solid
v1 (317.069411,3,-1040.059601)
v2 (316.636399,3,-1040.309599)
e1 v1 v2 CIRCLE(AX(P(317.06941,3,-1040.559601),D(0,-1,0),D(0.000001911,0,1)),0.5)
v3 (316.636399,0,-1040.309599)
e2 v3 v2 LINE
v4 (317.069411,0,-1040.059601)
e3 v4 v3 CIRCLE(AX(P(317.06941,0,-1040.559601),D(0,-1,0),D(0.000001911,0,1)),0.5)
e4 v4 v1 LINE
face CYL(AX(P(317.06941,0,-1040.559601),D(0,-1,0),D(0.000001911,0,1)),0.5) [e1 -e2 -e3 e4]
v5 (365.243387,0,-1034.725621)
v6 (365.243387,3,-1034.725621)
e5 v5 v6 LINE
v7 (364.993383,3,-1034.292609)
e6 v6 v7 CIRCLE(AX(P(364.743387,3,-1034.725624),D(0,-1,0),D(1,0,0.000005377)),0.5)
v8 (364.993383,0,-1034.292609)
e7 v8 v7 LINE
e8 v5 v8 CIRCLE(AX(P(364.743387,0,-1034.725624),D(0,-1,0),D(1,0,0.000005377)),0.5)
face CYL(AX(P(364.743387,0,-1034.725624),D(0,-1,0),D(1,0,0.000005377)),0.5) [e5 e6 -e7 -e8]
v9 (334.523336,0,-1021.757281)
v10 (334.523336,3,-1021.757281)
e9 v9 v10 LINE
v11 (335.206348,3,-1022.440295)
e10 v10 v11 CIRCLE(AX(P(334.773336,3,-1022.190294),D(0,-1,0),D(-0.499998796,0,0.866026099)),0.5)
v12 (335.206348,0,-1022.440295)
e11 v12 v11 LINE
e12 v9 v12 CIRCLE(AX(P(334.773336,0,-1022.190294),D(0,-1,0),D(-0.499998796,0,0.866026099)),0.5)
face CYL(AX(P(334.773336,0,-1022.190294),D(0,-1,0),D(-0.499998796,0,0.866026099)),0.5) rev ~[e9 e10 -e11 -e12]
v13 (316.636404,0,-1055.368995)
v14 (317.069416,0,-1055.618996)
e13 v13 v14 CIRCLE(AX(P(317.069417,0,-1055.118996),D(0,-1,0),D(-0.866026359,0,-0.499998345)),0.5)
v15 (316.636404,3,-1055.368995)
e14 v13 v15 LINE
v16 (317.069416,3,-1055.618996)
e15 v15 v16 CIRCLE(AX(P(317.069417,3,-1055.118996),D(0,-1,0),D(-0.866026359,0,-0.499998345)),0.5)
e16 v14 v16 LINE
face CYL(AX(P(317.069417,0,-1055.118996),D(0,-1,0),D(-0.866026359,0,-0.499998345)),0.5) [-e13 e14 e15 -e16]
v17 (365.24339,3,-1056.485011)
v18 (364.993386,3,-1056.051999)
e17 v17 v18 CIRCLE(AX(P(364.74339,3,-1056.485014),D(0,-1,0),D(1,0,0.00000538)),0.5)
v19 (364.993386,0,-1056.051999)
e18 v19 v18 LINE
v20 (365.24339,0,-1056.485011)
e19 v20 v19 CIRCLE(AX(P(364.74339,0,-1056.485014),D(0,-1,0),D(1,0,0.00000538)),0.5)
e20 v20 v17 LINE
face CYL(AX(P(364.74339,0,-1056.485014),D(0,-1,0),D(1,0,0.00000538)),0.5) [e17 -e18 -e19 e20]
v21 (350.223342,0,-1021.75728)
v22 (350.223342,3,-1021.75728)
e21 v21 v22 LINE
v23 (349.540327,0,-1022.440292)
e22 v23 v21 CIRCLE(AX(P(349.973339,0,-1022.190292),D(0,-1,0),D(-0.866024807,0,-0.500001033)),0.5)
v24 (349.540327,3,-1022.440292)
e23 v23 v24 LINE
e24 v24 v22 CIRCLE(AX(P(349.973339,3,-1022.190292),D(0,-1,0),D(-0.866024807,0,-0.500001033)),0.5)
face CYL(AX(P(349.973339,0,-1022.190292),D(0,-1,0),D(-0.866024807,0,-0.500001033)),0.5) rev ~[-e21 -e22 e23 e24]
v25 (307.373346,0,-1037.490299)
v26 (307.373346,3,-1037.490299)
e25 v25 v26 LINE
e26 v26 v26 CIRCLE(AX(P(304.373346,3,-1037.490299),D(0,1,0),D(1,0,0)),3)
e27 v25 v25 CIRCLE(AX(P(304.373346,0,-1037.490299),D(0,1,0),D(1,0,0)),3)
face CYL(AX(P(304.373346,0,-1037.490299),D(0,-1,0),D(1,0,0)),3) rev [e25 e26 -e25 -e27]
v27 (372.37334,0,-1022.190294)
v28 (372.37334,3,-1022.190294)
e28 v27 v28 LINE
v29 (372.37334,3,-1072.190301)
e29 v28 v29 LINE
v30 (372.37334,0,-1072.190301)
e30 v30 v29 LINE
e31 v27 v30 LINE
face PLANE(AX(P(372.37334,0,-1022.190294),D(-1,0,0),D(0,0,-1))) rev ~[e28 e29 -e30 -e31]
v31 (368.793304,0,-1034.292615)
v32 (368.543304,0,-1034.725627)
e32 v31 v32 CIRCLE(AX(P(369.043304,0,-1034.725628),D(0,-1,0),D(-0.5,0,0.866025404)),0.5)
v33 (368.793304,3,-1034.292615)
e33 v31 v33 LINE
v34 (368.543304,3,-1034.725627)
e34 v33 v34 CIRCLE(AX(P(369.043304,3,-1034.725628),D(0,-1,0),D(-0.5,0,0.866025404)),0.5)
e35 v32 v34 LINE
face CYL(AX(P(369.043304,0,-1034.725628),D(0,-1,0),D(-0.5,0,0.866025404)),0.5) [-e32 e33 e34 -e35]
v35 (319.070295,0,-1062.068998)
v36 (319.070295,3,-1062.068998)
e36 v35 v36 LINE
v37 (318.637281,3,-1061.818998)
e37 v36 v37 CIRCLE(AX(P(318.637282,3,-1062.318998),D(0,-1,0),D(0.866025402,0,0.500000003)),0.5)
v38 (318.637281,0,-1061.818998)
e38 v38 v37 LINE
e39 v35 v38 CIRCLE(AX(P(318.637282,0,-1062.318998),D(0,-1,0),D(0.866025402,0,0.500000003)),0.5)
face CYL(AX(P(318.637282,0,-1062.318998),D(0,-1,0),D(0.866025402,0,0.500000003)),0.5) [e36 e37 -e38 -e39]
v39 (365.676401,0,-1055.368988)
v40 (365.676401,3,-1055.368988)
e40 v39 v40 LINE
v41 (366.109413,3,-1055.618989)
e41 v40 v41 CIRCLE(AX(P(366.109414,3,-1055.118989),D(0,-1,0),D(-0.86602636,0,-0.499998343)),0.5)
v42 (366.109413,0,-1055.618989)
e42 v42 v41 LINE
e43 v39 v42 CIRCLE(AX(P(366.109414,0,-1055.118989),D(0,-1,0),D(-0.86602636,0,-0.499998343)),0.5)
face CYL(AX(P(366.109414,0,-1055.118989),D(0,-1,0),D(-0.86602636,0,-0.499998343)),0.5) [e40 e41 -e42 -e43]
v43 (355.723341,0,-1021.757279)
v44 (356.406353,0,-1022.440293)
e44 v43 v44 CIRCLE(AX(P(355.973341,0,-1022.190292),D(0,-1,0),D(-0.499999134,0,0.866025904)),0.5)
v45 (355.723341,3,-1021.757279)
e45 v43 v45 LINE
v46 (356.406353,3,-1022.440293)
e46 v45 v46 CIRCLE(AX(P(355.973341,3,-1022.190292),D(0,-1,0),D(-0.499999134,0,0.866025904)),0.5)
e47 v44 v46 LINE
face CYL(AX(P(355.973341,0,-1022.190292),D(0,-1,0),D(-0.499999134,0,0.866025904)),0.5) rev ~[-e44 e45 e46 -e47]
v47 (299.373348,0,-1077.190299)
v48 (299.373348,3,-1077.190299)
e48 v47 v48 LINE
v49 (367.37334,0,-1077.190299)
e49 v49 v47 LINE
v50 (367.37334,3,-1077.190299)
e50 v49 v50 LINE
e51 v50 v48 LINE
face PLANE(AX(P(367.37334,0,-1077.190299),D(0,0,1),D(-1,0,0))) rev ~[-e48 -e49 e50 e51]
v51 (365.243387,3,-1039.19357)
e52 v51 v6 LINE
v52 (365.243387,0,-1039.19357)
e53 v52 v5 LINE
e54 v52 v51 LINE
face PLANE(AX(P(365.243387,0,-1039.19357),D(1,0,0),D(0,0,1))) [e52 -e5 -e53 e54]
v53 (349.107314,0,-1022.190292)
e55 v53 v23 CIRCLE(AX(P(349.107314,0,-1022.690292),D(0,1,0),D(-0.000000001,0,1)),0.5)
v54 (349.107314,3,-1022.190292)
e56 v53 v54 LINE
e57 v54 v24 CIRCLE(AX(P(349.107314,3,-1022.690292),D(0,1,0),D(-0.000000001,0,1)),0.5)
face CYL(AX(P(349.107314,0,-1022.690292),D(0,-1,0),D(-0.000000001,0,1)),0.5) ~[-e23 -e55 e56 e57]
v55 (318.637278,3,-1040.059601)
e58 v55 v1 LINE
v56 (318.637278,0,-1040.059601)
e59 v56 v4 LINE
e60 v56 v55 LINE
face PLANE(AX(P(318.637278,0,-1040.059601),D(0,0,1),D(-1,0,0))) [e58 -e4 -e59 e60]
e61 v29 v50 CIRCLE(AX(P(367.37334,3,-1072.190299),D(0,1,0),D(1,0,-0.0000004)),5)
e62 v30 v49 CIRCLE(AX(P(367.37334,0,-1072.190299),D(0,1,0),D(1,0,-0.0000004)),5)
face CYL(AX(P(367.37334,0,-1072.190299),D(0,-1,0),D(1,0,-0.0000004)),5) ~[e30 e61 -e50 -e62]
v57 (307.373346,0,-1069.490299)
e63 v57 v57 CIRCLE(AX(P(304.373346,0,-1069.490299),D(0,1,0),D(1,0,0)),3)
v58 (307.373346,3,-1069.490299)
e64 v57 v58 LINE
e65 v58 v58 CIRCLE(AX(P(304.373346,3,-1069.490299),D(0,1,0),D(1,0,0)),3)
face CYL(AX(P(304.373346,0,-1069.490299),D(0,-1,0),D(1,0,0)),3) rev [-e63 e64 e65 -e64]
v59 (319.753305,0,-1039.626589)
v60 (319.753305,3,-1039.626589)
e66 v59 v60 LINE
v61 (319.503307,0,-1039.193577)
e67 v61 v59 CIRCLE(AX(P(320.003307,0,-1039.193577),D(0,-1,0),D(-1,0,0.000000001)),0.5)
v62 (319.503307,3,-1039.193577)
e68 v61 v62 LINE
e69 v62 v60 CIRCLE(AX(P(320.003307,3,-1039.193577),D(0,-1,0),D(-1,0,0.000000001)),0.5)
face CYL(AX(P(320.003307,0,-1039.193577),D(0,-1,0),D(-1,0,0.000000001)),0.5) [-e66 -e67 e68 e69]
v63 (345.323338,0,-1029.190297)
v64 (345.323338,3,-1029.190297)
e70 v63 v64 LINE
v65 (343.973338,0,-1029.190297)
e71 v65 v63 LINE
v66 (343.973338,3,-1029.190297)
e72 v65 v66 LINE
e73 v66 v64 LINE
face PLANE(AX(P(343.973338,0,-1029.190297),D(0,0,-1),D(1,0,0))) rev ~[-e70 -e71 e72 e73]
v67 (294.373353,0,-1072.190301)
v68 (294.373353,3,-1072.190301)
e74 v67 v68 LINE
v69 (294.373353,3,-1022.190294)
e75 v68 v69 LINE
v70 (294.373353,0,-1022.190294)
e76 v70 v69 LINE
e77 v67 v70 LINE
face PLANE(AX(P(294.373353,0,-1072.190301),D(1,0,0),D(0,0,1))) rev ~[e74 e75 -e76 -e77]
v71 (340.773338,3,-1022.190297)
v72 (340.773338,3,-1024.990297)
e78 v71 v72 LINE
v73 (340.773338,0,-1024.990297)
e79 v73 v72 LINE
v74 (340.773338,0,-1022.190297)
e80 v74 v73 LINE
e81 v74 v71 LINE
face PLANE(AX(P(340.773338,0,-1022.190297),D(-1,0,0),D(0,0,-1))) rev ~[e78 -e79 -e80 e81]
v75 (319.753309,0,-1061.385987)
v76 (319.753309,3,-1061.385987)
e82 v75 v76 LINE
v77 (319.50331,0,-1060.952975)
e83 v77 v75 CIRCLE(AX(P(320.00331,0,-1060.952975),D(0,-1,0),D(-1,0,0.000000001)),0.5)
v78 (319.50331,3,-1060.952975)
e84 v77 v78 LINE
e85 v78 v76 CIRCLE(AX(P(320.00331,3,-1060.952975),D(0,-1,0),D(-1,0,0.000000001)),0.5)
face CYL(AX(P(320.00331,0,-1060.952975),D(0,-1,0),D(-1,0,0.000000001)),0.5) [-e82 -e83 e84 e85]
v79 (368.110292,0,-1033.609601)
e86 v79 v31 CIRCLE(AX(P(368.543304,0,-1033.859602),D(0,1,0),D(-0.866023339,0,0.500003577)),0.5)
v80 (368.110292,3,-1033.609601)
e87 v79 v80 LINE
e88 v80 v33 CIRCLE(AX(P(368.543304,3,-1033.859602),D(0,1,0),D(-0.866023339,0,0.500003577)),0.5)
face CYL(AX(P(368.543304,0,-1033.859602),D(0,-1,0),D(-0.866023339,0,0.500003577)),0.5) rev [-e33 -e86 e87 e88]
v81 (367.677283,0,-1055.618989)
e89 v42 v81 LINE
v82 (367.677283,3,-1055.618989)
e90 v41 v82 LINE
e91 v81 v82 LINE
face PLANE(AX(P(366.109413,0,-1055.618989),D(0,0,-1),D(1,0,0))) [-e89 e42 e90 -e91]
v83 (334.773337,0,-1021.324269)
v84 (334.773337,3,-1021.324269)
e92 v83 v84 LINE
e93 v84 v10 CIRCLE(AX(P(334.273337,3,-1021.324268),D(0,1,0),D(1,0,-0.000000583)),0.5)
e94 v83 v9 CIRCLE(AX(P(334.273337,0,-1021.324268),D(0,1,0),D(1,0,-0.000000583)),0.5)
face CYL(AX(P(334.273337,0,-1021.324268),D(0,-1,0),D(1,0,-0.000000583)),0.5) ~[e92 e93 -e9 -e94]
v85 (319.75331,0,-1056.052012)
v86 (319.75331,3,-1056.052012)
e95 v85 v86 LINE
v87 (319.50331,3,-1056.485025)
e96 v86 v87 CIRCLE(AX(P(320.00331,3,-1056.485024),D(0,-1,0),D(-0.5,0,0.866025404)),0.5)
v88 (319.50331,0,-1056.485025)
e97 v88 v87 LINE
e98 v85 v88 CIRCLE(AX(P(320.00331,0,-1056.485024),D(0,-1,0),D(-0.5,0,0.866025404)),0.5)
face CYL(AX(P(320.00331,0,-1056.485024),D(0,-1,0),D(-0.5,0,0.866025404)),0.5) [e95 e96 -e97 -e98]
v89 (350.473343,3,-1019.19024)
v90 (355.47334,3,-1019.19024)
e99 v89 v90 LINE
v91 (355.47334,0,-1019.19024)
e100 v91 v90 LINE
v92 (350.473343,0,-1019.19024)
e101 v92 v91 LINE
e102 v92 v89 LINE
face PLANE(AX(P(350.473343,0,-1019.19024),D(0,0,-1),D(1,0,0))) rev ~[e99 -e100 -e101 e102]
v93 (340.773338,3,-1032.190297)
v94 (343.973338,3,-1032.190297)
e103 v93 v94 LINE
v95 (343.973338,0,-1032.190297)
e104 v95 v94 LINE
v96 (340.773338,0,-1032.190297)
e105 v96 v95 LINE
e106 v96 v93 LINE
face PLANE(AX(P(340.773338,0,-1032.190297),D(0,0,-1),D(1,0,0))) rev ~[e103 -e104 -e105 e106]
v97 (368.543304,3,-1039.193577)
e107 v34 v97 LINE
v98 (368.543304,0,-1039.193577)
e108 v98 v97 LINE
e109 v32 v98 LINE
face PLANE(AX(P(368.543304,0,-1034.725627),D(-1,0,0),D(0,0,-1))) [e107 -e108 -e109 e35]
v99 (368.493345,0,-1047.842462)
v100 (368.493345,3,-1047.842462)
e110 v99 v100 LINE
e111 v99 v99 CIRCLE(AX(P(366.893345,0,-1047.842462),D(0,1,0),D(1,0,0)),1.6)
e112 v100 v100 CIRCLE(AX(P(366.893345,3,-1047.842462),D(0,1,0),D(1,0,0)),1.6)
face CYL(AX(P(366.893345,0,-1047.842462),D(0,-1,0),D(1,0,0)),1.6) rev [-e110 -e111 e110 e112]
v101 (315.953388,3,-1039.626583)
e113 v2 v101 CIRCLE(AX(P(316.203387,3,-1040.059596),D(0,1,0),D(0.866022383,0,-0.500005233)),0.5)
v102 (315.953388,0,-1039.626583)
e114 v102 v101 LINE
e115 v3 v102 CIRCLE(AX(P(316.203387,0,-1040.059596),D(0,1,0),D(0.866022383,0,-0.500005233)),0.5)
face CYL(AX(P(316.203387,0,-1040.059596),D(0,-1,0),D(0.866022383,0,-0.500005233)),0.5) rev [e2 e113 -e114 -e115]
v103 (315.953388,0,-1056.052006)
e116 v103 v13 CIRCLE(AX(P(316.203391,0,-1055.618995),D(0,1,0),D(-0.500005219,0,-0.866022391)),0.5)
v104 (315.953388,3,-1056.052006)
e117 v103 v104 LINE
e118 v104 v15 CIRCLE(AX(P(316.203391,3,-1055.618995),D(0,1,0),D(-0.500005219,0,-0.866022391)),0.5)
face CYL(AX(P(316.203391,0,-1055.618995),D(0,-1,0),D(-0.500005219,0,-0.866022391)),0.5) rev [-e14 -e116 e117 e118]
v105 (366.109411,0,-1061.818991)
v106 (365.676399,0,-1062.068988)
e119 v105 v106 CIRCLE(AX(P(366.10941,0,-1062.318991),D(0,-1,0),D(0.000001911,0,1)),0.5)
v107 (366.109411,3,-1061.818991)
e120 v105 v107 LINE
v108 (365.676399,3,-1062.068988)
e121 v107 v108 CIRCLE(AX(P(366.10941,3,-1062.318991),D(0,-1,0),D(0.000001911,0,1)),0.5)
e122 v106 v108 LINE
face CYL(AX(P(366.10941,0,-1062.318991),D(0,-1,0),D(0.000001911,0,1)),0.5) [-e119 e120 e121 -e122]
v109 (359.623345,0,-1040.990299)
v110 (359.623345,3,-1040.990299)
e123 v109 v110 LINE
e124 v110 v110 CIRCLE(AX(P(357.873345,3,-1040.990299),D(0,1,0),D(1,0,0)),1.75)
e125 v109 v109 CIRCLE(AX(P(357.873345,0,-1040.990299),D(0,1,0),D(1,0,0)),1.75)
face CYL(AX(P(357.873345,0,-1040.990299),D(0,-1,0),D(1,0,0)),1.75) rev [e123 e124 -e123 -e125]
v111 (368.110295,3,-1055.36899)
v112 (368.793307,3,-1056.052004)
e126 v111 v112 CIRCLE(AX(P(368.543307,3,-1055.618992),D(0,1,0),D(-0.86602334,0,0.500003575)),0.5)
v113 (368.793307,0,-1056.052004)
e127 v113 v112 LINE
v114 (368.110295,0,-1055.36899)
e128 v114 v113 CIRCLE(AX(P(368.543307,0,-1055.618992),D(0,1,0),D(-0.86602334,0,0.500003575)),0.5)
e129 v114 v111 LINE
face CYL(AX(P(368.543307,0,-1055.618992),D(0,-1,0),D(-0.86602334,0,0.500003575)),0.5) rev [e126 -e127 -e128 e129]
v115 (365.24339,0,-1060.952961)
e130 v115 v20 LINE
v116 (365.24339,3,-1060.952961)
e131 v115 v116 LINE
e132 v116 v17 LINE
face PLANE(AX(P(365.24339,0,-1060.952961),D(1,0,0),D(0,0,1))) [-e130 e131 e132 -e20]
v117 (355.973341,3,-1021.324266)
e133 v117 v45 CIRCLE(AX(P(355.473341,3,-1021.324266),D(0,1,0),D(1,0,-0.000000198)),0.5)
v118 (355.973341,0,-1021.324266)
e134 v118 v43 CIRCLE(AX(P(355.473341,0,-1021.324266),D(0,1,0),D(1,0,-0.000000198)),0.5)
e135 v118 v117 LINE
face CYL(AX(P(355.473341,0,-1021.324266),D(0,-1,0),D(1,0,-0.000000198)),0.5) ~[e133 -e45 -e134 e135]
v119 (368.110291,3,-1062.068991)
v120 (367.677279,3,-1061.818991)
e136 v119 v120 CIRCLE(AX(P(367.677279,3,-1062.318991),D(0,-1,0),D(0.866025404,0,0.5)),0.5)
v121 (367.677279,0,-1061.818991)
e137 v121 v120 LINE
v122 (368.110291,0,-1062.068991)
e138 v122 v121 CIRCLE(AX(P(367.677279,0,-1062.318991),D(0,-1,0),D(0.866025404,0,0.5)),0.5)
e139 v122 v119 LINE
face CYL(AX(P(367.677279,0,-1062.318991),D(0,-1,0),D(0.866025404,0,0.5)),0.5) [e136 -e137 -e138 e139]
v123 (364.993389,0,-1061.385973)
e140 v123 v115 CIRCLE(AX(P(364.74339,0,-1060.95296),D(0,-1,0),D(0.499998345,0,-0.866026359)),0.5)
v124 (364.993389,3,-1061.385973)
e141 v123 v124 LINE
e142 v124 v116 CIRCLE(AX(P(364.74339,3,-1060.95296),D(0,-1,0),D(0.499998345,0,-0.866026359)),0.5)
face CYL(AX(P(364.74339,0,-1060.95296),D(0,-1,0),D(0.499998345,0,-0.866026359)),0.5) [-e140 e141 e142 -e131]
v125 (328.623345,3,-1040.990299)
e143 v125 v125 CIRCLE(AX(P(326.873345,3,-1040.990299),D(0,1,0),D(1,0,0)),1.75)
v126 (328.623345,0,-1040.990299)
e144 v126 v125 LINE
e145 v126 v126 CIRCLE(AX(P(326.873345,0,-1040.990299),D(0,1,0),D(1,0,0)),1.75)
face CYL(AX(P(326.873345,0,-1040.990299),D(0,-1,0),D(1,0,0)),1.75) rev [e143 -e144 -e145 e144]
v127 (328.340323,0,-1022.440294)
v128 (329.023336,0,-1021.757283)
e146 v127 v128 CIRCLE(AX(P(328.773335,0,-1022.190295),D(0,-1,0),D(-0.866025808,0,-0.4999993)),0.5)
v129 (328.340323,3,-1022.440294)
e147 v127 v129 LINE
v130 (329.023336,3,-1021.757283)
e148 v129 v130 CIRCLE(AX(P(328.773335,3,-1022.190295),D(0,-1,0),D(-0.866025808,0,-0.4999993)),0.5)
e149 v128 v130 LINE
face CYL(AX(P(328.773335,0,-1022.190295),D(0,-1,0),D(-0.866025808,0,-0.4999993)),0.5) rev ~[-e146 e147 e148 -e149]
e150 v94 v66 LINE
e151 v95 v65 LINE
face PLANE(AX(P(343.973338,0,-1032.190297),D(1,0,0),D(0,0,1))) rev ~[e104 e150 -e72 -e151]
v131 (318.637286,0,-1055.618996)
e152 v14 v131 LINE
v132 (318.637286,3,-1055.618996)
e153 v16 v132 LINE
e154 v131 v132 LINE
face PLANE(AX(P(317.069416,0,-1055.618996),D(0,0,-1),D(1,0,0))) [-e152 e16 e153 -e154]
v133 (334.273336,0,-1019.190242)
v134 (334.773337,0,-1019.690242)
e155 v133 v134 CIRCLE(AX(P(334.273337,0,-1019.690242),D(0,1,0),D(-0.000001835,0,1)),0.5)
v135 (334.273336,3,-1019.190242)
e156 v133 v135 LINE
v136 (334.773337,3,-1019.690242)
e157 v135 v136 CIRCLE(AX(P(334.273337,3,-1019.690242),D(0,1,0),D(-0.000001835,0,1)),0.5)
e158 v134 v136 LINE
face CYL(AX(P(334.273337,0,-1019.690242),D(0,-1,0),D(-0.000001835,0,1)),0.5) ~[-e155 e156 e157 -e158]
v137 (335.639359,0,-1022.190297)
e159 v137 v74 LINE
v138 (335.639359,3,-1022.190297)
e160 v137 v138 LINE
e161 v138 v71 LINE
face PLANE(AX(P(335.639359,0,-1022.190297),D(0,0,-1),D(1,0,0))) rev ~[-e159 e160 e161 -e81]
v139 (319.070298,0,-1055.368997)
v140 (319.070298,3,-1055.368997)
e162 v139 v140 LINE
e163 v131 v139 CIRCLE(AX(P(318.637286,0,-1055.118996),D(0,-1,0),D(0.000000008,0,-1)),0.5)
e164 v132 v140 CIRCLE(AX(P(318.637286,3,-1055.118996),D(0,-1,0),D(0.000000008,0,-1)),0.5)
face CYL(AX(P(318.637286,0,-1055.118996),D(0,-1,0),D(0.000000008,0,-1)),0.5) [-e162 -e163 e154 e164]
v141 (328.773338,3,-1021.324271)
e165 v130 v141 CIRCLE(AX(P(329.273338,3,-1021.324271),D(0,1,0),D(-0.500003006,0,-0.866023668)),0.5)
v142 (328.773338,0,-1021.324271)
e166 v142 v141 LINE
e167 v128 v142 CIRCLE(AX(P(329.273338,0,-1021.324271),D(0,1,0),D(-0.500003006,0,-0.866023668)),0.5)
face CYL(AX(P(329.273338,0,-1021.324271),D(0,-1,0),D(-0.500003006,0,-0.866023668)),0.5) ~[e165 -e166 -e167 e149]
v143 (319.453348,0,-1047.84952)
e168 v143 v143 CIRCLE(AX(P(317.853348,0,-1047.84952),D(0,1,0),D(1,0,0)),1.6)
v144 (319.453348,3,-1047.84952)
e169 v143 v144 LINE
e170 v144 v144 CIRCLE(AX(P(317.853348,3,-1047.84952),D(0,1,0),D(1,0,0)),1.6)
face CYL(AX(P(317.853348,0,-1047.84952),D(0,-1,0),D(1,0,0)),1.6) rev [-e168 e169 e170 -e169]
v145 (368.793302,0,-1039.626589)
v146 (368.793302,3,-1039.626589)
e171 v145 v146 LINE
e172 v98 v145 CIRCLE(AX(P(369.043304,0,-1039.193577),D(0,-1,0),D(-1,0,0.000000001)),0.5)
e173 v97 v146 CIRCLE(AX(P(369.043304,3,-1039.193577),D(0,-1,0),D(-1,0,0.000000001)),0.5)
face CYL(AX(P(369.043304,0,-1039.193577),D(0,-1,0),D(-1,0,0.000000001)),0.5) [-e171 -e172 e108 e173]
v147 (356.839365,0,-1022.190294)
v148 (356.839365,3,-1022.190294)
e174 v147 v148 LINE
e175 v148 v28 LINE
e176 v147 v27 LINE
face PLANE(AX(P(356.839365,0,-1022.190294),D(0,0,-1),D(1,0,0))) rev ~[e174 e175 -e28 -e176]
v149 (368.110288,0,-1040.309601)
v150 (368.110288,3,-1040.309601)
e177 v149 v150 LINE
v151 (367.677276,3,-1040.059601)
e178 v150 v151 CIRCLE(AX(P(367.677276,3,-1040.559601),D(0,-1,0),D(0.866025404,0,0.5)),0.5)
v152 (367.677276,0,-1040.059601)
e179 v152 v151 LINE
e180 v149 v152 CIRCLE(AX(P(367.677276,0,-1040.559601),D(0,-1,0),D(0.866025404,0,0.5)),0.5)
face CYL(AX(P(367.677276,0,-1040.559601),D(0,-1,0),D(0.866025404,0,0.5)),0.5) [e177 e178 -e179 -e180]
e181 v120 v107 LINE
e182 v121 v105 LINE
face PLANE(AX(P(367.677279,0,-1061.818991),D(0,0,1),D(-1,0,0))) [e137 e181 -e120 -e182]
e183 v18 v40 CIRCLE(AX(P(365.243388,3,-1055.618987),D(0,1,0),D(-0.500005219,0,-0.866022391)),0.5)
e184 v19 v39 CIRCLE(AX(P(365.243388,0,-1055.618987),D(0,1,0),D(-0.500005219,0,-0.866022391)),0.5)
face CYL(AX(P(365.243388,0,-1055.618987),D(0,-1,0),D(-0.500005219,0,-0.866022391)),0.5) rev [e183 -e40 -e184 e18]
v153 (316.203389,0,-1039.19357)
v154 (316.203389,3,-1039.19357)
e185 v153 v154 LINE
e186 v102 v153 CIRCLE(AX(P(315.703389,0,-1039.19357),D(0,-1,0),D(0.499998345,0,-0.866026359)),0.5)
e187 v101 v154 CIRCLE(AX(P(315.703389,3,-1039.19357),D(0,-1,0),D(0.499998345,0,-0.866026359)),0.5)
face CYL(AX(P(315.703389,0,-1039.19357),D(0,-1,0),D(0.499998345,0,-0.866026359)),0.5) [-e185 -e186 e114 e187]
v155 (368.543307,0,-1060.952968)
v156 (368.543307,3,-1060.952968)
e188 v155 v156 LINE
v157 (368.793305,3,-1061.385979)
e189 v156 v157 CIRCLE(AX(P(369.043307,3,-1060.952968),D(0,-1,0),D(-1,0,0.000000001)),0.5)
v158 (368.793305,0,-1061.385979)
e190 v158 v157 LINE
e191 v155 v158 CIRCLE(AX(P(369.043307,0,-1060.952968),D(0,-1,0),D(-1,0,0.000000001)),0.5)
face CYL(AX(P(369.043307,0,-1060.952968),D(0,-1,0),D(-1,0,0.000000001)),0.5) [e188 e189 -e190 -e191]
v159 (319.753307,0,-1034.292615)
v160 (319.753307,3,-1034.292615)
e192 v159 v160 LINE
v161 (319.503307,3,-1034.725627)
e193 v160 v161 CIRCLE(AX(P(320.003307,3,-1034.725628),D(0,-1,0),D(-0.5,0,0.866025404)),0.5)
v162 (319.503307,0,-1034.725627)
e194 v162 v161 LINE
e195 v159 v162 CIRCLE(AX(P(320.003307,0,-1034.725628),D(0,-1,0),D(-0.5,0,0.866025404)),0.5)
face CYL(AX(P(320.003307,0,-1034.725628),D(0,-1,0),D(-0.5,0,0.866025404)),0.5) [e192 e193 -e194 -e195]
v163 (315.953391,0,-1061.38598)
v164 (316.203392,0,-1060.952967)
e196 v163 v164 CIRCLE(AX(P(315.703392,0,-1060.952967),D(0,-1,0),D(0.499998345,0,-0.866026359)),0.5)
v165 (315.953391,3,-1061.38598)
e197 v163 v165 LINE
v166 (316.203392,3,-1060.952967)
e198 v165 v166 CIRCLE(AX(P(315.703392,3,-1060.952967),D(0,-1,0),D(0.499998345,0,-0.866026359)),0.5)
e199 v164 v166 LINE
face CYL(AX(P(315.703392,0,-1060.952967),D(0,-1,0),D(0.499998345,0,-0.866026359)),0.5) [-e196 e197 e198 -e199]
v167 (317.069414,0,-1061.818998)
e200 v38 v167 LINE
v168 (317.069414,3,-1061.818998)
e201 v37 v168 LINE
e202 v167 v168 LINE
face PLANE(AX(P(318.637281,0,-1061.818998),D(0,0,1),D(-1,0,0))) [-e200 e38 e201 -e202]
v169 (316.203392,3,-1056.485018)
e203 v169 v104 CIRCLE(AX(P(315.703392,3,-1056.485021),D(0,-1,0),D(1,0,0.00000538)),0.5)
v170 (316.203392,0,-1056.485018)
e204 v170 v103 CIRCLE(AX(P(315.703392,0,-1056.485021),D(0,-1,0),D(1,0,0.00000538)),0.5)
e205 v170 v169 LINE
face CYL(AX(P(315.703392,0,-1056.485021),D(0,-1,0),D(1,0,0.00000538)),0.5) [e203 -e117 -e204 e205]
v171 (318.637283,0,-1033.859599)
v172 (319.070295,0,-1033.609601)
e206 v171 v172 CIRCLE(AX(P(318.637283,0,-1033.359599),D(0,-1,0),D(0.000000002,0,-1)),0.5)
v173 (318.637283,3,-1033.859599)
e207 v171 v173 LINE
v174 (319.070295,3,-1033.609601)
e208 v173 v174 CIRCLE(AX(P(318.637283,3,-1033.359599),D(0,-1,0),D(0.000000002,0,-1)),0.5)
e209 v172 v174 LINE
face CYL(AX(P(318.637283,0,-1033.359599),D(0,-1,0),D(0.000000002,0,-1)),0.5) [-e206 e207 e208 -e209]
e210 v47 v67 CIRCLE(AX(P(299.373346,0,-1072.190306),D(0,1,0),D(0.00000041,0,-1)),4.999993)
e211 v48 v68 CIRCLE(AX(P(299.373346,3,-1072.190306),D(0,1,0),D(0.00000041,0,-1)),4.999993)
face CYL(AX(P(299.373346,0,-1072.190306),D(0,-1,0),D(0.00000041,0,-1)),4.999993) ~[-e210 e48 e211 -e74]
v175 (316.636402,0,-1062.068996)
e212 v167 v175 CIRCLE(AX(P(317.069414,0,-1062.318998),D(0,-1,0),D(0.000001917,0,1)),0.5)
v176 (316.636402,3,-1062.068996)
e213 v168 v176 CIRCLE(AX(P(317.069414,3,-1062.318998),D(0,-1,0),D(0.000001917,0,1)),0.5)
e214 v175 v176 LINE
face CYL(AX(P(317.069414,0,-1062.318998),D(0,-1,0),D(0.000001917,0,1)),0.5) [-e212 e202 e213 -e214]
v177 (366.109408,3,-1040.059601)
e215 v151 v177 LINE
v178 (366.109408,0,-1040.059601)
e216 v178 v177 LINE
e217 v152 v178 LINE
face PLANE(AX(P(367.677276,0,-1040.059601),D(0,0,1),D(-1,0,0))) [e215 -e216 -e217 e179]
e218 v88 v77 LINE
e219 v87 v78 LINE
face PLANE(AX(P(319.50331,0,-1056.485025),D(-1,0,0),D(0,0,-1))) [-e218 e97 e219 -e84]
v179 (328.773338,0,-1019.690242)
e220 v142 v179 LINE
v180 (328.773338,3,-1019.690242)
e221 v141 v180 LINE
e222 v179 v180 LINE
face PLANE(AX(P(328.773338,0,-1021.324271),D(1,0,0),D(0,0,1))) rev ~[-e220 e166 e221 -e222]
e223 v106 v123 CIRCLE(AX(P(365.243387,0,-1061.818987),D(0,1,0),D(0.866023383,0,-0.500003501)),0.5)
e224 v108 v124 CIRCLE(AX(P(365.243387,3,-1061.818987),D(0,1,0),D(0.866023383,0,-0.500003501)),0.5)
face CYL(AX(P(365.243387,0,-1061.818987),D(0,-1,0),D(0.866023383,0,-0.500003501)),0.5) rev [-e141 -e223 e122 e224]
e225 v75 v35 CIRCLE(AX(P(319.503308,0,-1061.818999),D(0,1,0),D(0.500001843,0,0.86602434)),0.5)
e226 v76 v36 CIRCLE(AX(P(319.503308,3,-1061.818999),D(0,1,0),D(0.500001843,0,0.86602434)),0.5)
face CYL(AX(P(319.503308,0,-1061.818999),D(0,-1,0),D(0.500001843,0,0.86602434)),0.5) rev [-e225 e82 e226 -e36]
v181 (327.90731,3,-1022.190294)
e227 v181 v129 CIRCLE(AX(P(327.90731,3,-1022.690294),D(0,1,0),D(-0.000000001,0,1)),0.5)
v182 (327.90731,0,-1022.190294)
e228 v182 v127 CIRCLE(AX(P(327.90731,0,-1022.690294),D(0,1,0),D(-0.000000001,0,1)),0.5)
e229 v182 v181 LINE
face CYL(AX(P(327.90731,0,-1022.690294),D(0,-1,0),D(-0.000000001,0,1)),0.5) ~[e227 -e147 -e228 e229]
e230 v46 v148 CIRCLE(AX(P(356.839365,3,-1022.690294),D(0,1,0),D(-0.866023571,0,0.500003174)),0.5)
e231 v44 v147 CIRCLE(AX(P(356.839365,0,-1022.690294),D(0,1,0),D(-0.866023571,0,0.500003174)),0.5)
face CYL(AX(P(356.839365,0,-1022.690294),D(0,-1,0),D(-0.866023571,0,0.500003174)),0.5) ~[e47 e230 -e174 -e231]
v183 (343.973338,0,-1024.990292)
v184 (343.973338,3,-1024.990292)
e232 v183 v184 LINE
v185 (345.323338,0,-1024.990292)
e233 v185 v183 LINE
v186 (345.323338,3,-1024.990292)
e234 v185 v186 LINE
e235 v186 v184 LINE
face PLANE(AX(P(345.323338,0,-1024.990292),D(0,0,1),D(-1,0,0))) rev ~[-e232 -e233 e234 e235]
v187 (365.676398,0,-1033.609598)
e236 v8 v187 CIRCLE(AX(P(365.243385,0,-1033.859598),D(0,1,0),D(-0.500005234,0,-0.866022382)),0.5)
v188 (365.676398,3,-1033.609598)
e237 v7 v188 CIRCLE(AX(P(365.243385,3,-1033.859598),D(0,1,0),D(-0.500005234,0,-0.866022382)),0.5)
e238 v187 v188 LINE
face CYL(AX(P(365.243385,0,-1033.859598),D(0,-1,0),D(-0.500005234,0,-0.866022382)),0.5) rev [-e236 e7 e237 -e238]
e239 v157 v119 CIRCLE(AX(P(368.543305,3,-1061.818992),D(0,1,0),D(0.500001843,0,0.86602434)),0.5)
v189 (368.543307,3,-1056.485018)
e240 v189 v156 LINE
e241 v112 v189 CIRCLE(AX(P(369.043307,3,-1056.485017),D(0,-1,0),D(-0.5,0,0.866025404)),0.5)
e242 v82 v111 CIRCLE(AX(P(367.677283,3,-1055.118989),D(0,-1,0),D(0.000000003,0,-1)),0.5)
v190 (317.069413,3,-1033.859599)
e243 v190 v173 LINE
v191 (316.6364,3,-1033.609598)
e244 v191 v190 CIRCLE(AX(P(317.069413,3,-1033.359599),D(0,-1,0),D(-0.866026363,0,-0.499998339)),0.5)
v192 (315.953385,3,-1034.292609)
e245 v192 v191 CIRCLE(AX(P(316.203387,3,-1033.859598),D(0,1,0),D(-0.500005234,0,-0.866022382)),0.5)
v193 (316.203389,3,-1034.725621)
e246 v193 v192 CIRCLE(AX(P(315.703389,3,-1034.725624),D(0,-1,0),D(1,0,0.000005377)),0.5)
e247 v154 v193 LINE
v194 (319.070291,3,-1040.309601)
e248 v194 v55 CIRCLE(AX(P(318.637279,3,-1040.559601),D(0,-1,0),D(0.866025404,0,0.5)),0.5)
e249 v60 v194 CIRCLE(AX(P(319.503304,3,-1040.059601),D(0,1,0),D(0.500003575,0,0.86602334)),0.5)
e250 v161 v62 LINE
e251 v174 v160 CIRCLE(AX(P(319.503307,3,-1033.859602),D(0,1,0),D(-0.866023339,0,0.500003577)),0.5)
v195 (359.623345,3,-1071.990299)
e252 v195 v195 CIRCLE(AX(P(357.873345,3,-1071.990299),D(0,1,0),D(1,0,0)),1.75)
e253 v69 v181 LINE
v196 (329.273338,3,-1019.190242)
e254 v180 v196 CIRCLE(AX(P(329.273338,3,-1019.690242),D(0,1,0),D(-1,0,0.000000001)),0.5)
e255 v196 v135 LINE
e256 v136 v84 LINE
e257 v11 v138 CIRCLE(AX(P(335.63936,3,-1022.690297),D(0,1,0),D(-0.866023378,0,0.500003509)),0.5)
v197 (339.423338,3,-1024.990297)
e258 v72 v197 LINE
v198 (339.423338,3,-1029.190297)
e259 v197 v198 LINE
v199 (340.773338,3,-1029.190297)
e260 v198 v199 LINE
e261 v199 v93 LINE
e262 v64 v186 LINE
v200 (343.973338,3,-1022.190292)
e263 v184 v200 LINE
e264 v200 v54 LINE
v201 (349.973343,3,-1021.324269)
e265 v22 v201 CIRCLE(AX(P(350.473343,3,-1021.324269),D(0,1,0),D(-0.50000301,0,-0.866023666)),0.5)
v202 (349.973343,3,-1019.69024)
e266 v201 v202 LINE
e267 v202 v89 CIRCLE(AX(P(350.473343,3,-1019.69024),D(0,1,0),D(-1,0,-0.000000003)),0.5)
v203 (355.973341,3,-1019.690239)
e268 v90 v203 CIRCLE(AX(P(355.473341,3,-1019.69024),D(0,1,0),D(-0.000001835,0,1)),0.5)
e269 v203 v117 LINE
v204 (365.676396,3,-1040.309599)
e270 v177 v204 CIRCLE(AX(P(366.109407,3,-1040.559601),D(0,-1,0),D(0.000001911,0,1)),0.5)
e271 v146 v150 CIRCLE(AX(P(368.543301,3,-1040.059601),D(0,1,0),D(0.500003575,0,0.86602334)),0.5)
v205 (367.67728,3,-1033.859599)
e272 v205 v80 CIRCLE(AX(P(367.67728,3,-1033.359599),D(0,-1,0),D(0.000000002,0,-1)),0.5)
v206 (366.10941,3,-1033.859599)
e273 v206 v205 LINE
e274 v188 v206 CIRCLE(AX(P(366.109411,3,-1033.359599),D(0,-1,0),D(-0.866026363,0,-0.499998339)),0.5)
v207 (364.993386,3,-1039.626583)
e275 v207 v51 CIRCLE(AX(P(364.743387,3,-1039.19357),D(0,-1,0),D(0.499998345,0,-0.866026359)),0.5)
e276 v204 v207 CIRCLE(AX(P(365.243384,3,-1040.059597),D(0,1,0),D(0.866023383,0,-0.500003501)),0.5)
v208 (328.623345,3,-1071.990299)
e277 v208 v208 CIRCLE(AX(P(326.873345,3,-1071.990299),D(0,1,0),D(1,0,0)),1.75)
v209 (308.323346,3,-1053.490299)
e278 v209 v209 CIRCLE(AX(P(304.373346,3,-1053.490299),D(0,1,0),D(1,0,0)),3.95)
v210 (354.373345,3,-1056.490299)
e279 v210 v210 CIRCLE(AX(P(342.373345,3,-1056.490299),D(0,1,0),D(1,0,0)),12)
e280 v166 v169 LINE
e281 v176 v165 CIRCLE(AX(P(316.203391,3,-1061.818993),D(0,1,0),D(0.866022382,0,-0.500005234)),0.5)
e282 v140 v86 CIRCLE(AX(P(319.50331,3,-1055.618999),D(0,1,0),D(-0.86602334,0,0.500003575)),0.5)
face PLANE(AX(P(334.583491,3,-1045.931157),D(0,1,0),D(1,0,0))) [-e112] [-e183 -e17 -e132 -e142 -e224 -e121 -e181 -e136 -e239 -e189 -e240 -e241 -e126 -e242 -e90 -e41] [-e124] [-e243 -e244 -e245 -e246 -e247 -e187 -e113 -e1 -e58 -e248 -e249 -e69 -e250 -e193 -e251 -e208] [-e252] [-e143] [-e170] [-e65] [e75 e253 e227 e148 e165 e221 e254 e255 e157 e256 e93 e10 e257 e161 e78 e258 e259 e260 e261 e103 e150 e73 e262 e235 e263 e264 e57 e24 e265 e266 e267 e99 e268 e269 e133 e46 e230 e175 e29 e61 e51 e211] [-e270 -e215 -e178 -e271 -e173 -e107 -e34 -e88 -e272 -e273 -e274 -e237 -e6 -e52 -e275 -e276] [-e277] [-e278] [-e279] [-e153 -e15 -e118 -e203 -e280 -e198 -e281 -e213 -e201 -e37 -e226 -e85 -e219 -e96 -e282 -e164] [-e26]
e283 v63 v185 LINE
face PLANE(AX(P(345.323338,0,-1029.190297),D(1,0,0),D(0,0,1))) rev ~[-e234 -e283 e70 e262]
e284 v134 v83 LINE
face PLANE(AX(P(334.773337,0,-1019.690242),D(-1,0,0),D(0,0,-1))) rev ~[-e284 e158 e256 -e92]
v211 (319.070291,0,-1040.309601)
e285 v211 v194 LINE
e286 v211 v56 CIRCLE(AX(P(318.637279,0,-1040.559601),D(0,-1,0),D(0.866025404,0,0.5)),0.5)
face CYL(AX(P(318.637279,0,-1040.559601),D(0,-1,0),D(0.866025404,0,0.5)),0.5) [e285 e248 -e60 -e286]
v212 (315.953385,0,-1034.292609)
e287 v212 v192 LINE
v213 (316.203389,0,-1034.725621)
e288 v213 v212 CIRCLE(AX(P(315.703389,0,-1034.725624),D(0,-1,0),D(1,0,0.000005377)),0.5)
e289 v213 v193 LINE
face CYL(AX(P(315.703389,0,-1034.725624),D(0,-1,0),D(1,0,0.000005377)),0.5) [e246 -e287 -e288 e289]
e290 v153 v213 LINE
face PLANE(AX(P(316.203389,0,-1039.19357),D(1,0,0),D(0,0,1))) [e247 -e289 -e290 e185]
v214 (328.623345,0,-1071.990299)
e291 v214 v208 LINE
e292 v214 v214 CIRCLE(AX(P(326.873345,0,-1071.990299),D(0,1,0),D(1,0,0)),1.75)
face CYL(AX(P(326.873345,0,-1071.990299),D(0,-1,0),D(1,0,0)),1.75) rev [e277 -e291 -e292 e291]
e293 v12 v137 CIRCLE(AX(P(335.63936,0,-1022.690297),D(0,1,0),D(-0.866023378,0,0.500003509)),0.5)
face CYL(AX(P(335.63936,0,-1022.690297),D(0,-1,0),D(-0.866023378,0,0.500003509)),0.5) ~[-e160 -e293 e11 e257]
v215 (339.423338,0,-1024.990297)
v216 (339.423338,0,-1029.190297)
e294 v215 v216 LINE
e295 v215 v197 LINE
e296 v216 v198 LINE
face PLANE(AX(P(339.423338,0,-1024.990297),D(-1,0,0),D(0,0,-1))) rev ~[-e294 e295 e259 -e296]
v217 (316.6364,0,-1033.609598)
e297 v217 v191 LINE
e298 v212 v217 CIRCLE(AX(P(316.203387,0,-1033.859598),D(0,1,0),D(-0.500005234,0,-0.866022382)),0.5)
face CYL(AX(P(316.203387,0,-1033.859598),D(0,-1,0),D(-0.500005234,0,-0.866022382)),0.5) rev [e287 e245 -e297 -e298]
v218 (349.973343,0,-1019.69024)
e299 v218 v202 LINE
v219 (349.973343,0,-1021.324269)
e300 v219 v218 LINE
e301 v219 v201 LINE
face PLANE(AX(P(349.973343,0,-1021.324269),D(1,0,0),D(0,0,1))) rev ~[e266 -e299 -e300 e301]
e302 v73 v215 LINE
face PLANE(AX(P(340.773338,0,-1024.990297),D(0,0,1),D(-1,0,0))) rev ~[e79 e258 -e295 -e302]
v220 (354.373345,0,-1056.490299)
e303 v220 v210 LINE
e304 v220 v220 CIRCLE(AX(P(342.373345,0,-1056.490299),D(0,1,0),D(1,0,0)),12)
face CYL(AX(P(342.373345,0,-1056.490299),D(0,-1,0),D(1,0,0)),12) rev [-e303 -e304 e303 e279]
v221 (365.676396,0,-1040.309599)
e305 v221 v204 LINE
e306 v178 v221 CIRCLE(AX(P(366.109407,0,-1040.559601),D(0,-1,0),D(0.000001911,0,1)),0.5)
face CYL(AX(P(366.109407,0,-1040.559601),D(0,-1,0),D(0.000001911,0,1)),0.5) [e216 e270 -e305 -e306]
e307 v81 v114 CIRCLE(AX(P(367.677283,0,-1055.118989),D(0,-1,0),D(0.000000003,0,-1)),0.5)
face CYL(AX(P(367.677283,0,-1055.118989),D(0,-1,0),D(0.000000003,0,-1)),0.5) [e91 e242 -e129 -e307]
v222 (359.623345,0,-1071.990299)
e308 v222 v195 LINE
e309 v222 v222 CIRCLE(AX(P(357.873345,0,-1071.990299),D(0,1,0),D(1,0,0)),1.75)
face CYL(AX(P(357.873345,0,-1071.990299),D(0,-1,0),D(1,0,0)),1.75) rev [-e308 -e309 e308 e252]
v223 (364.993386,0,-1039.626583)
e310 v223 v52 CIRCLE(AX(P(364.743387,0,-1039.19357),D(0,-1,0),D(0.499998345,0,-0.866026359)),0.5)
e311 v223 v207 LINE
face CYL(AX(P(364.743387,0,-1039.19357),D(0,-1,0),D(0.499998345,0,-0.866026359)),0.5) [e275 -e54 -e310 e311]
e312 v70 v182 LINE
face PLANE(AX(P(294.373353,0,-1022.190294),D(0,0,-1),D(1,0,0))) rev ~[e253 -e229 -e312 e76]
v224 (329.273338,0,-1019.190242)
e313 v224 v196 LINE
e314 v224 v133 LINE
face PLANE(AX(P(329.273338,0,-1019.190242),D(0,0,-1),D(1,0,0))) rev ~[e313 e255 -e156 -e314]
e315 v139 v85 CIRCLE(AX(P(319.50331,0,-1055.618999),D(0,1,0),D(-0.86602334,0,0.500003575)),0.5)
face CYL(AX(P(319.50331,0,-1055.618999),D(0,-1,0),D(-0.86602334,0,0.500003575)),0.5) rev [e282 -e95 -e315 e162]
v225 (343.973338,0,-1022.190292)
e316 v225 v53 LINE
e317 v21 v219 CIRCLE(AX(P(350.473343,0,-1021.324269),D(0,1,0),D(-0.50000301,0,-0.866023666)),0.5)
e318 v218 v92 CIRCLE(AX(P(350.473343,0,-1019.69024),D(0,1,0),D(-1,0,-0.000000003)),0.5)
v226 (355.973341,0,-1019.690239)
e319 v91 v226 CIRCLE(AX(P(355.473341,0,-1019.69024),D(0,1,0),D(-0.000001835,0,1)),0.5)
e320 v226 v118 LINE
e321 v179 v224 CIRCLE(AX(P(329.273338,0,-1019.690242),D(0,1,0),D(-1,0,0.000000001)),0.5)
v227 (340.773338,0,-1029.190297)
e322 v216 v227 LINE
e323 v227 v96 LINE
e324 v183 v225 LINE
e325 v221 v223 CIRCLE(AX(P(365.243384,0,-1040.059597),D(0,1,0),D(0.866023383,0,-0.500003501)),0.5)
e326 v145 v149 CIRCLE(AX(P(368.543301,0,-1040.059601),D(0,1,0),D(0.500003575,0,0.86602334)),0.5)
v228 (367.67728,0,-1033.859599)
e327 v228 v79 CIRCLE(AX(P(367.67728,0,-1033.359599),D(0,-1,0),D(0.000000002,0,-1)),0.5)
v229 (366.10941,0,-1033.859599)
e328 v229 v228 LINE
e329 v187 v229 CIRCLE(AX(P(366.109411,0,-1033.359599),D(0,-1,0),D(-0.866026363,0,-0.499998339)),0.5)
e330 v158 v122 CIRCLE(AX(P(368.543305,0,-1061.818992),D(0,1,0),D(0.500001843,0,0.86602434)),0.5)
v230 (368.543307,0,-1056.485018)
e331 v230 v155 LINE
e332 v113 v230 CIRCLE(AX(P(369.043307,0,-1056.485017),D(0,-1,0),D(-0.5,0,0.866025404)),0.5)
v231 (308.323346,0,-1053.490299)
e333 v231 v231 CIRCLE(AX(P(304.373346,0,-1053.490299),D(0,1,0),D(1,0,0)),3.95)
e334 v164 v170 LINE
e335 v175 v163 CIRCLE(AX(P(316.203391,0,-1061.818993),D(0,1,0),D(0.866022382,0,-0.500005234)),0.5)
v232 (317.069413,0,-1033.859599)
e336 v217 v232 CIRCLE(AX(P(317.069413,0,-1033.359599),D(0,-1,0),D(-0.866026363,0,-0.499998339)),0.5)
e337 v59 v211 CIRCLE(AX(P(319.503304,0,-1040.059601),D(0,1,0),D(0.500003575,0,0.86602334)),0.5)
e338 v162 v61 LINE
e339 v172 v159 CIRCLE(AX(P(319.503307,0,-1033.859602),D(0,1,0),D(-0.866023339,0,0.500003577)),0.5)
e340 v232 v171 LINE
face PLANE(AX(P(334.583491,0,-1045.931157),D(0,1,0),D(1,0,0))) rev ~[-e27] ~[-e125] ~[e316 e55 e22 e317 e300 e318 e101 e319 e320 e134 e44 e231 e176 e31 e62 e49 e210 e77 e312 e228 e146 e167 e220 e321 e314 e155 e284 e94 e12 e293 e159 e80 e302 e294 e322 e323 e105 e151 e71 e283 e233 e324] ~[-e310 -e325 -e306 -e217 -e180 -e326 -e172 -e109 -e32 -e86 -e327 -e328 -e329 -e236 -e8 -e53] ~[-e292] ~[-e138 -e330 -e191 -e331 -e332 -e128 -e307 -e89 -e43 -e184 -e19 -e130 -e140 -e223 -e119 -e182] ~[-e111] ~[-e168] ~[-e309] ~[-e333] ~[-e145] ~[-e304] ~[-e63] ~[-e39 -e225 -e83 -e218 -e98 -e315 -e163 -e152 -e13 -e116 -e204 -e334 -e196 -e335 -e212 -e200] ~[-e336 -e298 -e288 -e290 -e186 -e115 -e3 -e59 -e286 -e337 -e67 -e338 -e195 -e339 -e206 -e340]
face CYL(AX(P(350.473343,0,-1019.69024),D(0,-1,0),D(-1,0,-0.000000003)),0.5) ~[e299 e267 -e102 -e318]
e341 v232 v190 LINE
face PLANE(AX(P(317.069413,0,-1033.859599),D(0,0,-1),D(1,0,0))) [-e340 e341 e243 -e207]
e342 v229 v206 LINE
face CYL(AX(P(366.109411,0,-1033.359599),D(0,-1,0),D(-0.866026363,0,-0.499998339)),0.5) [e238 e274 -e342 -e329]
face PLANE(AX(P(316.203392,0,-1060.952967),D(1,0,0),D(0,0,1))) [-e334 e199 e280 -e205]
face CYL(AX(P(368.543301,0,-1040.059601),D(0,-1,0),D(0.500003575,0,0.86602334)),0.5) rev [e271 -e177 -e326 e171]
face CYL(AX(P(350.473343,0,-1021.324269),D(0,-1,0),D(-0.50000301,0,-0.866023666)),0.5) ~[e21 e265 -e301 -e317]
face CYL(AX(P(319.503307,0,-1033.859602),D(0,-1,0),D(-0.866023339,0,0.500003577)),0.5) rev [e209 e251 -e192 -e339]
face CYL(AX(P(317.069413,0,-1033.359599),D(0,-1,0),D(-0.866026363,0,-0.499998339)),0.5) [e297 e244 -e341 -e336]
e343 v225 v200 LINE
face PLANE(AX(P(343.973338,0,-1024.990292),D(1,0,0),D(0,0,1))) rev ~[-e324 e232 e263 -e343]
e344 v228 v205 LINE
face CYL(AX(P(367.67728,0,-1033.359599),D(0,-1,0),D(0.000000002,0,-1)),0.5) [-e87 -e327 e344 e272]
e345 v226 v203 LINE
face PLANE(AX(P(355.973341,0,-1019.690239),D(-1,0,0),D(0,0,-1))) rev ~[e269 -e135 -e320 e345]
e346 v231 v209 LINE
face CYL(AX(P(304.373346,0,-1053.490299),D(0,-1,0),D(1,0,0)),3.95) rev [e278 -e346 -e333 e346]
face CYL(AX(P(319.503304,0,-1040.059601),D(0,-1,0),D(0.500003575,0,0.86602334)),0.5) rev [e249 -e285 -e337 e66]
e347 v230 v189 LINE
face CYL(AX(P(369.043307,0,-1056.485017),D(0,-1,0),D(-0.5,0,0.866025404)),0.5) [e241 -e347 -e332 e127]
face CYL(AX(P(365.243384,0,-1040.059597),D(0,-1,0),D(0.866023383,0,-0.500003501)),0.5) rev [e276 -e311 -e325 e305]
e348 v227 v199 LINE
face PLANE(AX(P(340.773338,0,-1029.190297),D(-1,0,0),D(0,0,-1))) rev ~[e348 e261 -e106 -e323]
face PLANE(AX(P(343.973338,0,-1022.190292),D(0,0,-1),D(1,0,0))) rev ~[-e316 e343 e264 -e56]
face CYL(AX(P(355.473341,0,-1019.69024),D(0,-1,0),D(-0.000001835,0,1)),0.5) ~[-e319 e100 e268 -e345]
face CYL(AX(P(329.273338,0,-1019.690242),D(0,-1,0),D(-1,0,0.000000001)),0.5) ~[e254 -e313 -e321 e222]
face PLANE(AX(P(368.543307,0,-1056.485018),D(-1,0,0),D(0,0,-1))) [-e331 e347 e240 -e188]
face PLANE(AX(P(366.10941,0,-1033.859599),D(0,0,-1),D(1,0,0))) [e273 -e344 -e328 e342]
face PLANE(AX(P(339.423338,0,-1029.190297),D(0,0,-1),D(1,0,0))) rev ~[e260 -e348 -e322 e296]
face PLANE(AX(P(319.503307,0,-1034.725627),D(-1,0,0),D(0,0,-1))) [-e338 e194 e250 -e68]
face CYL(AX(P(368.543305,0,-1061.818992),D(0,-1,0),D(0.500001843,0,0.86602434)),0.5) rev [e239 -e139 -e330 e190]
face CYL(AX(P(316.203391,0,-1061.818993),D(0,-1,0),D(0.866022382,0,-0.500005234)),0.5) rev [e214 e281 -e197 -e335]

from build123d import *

# Parameters (mm, degrees)
SKETCH1_R           = 1.6
SKETCH1_R_2         = 1.75
SKETCH1_R_3         = 3.95
SKETCH1_R_4         = 12
SKETCH1_R_5         = 3
BOSS_EXTRUDE1_DEPTH = 3


with BuildPart() as part:
    # Sketch1 → Boss-Extrude1 (new body)
    with BuildSketch(Plane(origin=(0, 0, 0), x_dir=(1, 0, 0), z_dir=(0, 1, 0))):
        with BuildLine():
            Line((294.373353, 1022.190294437), (327.907309833, 1022.190294437))
            ThreePointArc((327.907309833, 1022.190294437), (328.157309833, 1022.257281735), (328.340322535, 1022.440294437))
            ThreePointArc((328.340322535, 1022.440294437), (329.126888323, 1022.543848684), (329.023336329, 1021.757282599))
            ThreePointArc((329.023336329, 1021.757282599), (328.840324865, 1021.574270305), (328.773337833, 1021.324271437))
            Line((328.773337833, 1021.324271437), (328.773337833, 1019.690242437))
            ThreePointArc((328.773337833, 1019.690242437), (328.919784442, 1019.336689047), (329.273337833, 1019.190242437))
            Line((329.273337833, 1019.190242437), (334.273335833, 1019.190242437))
            ThreePointArc((334.273335833, 1019.190242437), (334.626889492, 1019.336688397), (334.773336751, 1019.690241519))
            Line((334.773336751, 1019.690241519), (334.773336751, 1021.324268519))
            ThreePointArc((334.773336751, 1021.324268519), (334.706349307, 1021.57426848), (334.523336498, 1021.757281075))
            ThreePointArc((334.523336498, 1021.757281075), (334.419781792, 1022.543846802), (335.206347937, 1022.440295269))
            ThreePointArc((335.206347937, 1022.440295269), (335.389360338, 1022.257283911), (335.639359245, 1022.190297025))
            Line((335.639359245, 1022.190297025), (340.773337745, 1022.190297025))
            Line((340.773337745, 1022.190297025), (340.773337745, 1024.990297025))
            Line((340.773337745, 1024.990297025), (339.423337745, 1024.990297025))
            Line((339.423337745, 1024.990297025), (339.423337745, 1029.190297025))
            Line((339.423337745, 1029.190297025), (340.773337745, 1029.190297025))
            Line((340.773337745, 1029.190297025), (340.773337745, 1032.190297025))
            Line((340.773337745, 1032.190297025), (343.973337745, 1032.190297025))
            Line((343.973337745, 1032.190297025), (343.973337745, 1029.190297025))
            Line((343.973337745, 1029.190297025), (345.323337745, 1029.190297025))
            Line((345.323337745, 1029.190297025), (345.323337745, 1024.990292188))
            Line((345.323337745, 1024.990292188), (343.973337745, 1024.990292188))
            Line((343.973337745, 1024.990292188), (343.973337745, 1022.190292188))
            Line((343.973337745, 1022.190292188), (349.107314245, 1022.190292188))
            ThreePointArc((349.107314245, 1022.190292188), (349.357314245, 1022.257279486), (349.540326947, 1022.440292188))
            ThreePointArc((349.540326947, 1022.440292188), (350.326891976, 1022.543845827), (350.223341741, 1021.75728035))
            ThreePointArc((350.223341741, 1021.75728035), (350.040330277, 1021.574268055), (349.973343245, 1021.324269188))
            Line((349.973343245, 1021.324269188), (349.973343245, 1019.690240188))
            ThreePointArc((349.973343245, 1019.690240188), (350.119789854, 1019.336686797), (350.473343245, 1019.190240188))
            Line((350.473343245, 1019.190240188), (355.473340245, 1019.190240188))
            ThreePointArc((355.473340245, 1019.190240188), (355.826893904, 1019.336686148), (355.973341163, 1019.69023927))
            Line((355.973341163, 1019.69023927), (355.973341163, 1021.32426627))
            ThreePointArc((355.973341163, 1021.32426627), (355.906353816, 1021.574266257), (355.723341079, 1021.757278924))
            ThreePointArc((355.723341079, 1021.757278924), (355.619786681, 1022.543844692), (356.406352785, 1022.44029285))
            ThreePointArc((356.406352785, 1022.44029285), (356.589365364, 1022.257281277), (356.839364571, 1022.190294437))
            Line((356.839364571, 1022.190294437), (372.373340046, 1022.190294437))
            Line((372.373340046, 1022.190294437), (372.373340046, 1072.190301225))
            ThreePointArc((372.373340046, 1072.190301225), (370.908873244, 1075.725833838), (367.373340046, 1077.190299225))
            Line((367.373340046, 1077.190299225), (299.37334805, 1077.190299225))
            ThreePointArc((299.37334805, 1077.190299225), (295.837816019, 1075.725834155), (294.373353, 1072.190301275))
            Line((294.373353, 1072.190301275), (294.373353, 1022.190294437))
        make_face()
        with Locations((366.893344996, 1047.842461747)):
            Circle(SKETCH1_R, mode=Mode.SUBTRACT)
        with Locations((357.873345496, 1071.990299275)):
            Circle(SKETCH1_R_2, mode=Mode.SUBTRACT)
        with Locations((357.873345496, 1040.990299275)):
            Circle(SKETCH1_R_2, mode=Mode.SUBTRACT)
        with Locations((304.373346, 1053.49029927)):
            Circle(SKETCH1_R_3, mode=Mode.SUBTRACT)
        with Locations((342.373345496, 1056.490299275)):
            Circle(SKETCH1_R_4, mode=Mode.SUBTRACT)
        with Locations((326.873345496, 1071.990299275)):
            Circle(SKETCH1_R_2, mode=Mode.SUBTRACT)
        with Locations((326.873345496, 1040.990299275)):
            Circle(SKETCH1_R_2, mode=Mode.SUBTRACT)
        with Locations((317.853347996, 1047.84952041)):
            Circle(SKETCH1_R, mode=Mode.SUBTRACT)
        with Locations((304.373346, 1069.49029927)):
            Circle(SKETCH1_R_5, mode=Mode.SUBTRACT)
        with Locations((304.373346, 1037.49029927)):
            Circle(SKETCH1_R_5, mode=Mode.SUBTRACT)
        with BuildLine():
            Line((365.243389653, 1060.95296097), (365.243389653, 1056.48501097))
            ThreePointArc((365.243389653, 1056.48501097), (365.176400533, 1056.235010504), (364.993385671, 1056.051998658))
            ThreePointArc((364.993385671, 1056.051998658), (364.889836092, 1055.26543287), (365.676401176, 1055.368987799))
            ThreePointArc((365.676401176, 1055.368987799), (365.859413353, 1055.55200075), (366.109412996, 1055.618988627))
            Line((366.109412996, 1055.618988627), (367.677282996, 1055.618988627))
            ThreePointArc((367.677282996, 1055.618988627), (367.927282247, 1055.552001761), (368.110294834, 1055.368990124))
            ThreePointArc((368.110294834, 1055.368990124), (368.896860423, 1055.26543905), (368.793306996, 1056.052004329))
            ThreePointArc((368.793306996, 1056.052004329), (368.610294145, 1056.235017289), (368.543306996, 1056.485017627))
            Line((368.543306996, 1056.485017627), (368.543306996, 1060.952967627))
            ThreePointArc((368.543306996, 1060.952967627), (368.610293862, 1061.202966879), (368.793305499, 1061.385979465))
            ThreePointArc((368.793305499, 1061.385979465), (368.89685718, 1062.172545813), (368.110291294, 1062.068990627))
            ThreePointArc((368.110291294, 1062.068990627), (367.927278767, 1061.885978026), (367.677278996, 1061.818990627))
            Line((367.677278996, 1061.818990627), (366.109410996, 1061.818990627))
            ThreePointArc((366.109410996, 1061.818990627), (365.859411616, 1061.885977015), (365.676398679, 1062.068988302))
            ThreePointArc((365.676398679, 1062.068988302), (364.889832133, 1062.172538478), (364.993388824, 1061.38597279))
            ThreePointArc((364.993388824, 1061.38597279), (365.176401775, 1061.202960613), (365.243389653, 1060.95296097))
        make_face(mode=Mode.SUBTRACT)
        with BuildLine():
            Line((318.637281496, 1061.818997965), (317.069414496, 1061.818997965))
            ThreePointArc((317.069414496, 1061.818997965), (316.819415116, 1061.885984352), (316.636402179, 1062.06899564))
            ThreePointArc((316.636402179, 1062.06899564), (315.849836392, 1062.172545208), (315.953391324, 1061.385980127))
            ThreePointArc((315.953391324, 1061.385980127), (316.136404615, 1061.202967361), (316.203392153, 1060.952966947))
            Line((316.203392153, 1060.952966947), (316.203392153, 1056.485018307))
            ThreePointArc((316.203392153, 1056.485018307), (316.136403033, 1056.235017841), (315.953388171, 1056.052005995))
            ThreePointArc((315.953388171, 1056.052005995), (315.849838592, 1055.265440207), (316.636403676, 1055.368995136))
            ThreePointArc((316.636403676, 1055.368995136), (316.819416286, 1055.552008337), (317.069416496, 1055.618995965))
            Line((317.069416496, 1055.618995965), (318.637286496, 1055.618995965))
            ThreePointArc((318.637286496, 1055.618995965), (318.887285747, 1055.552009098), (319.070298334, 1055.368997461))
            ThreePointArc((319.070298334, 1055.368997461), (319.856863923, 1055.265446387), (319.753310496, 1056.052011666))
            ThreePointArc((319.753310496, 1056.052011666), (319.570297645, 1056.235024626), (319.503310496, 1056.485024964))
            Line((319.503310496, 1056.485024964), (319.503310496, 1060.952974964))
            ThreePointArc((319.503310496, 1060.952974964), (319.570297362, 1061.202974216), (319.753308999, 1061.385986802))
            ThreePointArc((319.753308999, 1061.385986802), (319.85686068, 1062.17255315), (319.070294794, 1062.068997964))
            ThreePointArc((319.070294794, 1062.068997964), (318.887281834, 1061.885985114), (318.637281496, 1061.818997965))
        make_face(mode=Mode.SUBTRACT)
        with BuildLine():
            Line((316.203388653, 1039.193570463), (316.203388653, 1034.725621463))
            ThreePointArc((316.203388653, 1034.725621463), (316.136399531, 1034.475620993), (315.953384663, 1034.292609147))
            ThreePointArc((315.953384663, 1034.292609147), (315.849835095, 1033.506043359), (316.636400176, 1033.609598291))
            ThreePointArc((316.636400176, 1033.609598291), (316.819412786, 1033.792611493), (317.069412996, 1033.85959912))
            Line((317.069412996, 1033.85959912), (318.637282996, 1033.85959912))
            ThreePointArc((318.637282996, 1033.85959912), (318.887282247, 1033.792612254), (319.070294834, 1033.609600616))
            ThreePointArc((319.070294834, 1033.609600616), (319.856860423, 1033.506049543), (319.753306996, 1034.292614822))
            ThreePointArc((319.753306996, 1034.292614822), (319.570294395, 1034.475627349), (319.503306996, 1034.72562712))
            Line((319.503306996, 1034.72562712), (319.503306996, 1039.19357712))
            ThreePointArc((319.503306996, 1039.19357712), (319.570293862, 1039.443576372), (319.753305499, 1039.626588958))
            ThreePointArc((319.753305499, 1039.626588958), (319.856856573, 1040.413154547), (319.070291294, 1040.30960112))
            ThreePointArc((319.070291294, 1040.30960112), (318.887278334, 1040.126588269), (318.637277996, 1040.05960112))
            Line((318.637277996, 1040.05960112), (317.069410996, 1040.05960112))
            ThreePointArc((317.069410996, 1040.05960112), (316.819411616, 1040.126587508), (316.636398679, 1040.309598795))
            ThreePointArc((316.636398679, 1040.309598795), (315.849832892, 1040.413148364), (315.953387824, 1039.626583283))
            ThreePointArc((315.953387824, 1039.626583283), (316.136401025, 1039.443570673), (316.203388653, 1039.193570463))
        make_face(mode=Mode.SUBTRACT)
        with BuildLine():
            Line((368.543303996, 1034.72562712), (368.543303996, 1039.19357712))
            ThreePointArc((368.543303996, 1039.19357712), (368.610290862, 1039.443576372), (368.793302499, 1039.626588958))
            ThreePointArc((368.793302499, 1039.626588958), (368.896853573, 1040.413154547), (368.110288294, 1040.30960112))
            ThreePointArc((368.110288294, 1040.30960112), (367.927275767, 1040.126588519), (367.677275996, 1040.05960112))
            Line((367.677275996, 1040.05960112), (366.109407996, 1040.05960112))
            ThreePointArc((366.109407996, 1040.05960112), (365.859408616, 1040.126587508), (365.676395679, 1040.309598795))
            ThreePointArc((365.676395679, 1040.309598795), (364.889829133, 1040.413148971), (364.993385824, 1039.626583283))
            ThreePointArc((364.993385824, 1039.626583283), (365.176399025, 1039.443570673), (365.243386653, 1039.193570463))
            Line((365.243386653, 1039.193570463), (365.243386653, 1034.725621463))
            ThreePointArc((365.243386653, 1034.725621463), (365.176397531, 1034.475620993), (364.993382663, 1034.292609147))
            ThreePointArc((364.993382663, 1034.292609147), (364.889833095, 1033.506043359), (365.676398176, 1033.609598291))
            ThreePointArc((365.676398176, 1033.609598291), (365.859410353, 1033.792611243), (366.109409996, 1033.85959912))
            Line((366.109409996, 1033.85959912), (367.677279996, 1033.85959912))
            ThreePointArc((367.677279996, 1033.85959912), (367.927279247, 1033.792612254), (368.110291834, 1033.609600616))
            ThreePointArc((368.110291834, 1033.609600616), (368.896857423, 1033.506049543), (368.793303996, 1034.292614822))
            ThreePointArc((368.793303996, 1034.292614822), (368.610291395, 1034.475627349), (368.543303996, 1034.72562712))
        make_face(mode=Mode.SUBTRACT)
    extrude(amount=BOSS_EXTRUDE1_DEPTH)


solid = part.part
